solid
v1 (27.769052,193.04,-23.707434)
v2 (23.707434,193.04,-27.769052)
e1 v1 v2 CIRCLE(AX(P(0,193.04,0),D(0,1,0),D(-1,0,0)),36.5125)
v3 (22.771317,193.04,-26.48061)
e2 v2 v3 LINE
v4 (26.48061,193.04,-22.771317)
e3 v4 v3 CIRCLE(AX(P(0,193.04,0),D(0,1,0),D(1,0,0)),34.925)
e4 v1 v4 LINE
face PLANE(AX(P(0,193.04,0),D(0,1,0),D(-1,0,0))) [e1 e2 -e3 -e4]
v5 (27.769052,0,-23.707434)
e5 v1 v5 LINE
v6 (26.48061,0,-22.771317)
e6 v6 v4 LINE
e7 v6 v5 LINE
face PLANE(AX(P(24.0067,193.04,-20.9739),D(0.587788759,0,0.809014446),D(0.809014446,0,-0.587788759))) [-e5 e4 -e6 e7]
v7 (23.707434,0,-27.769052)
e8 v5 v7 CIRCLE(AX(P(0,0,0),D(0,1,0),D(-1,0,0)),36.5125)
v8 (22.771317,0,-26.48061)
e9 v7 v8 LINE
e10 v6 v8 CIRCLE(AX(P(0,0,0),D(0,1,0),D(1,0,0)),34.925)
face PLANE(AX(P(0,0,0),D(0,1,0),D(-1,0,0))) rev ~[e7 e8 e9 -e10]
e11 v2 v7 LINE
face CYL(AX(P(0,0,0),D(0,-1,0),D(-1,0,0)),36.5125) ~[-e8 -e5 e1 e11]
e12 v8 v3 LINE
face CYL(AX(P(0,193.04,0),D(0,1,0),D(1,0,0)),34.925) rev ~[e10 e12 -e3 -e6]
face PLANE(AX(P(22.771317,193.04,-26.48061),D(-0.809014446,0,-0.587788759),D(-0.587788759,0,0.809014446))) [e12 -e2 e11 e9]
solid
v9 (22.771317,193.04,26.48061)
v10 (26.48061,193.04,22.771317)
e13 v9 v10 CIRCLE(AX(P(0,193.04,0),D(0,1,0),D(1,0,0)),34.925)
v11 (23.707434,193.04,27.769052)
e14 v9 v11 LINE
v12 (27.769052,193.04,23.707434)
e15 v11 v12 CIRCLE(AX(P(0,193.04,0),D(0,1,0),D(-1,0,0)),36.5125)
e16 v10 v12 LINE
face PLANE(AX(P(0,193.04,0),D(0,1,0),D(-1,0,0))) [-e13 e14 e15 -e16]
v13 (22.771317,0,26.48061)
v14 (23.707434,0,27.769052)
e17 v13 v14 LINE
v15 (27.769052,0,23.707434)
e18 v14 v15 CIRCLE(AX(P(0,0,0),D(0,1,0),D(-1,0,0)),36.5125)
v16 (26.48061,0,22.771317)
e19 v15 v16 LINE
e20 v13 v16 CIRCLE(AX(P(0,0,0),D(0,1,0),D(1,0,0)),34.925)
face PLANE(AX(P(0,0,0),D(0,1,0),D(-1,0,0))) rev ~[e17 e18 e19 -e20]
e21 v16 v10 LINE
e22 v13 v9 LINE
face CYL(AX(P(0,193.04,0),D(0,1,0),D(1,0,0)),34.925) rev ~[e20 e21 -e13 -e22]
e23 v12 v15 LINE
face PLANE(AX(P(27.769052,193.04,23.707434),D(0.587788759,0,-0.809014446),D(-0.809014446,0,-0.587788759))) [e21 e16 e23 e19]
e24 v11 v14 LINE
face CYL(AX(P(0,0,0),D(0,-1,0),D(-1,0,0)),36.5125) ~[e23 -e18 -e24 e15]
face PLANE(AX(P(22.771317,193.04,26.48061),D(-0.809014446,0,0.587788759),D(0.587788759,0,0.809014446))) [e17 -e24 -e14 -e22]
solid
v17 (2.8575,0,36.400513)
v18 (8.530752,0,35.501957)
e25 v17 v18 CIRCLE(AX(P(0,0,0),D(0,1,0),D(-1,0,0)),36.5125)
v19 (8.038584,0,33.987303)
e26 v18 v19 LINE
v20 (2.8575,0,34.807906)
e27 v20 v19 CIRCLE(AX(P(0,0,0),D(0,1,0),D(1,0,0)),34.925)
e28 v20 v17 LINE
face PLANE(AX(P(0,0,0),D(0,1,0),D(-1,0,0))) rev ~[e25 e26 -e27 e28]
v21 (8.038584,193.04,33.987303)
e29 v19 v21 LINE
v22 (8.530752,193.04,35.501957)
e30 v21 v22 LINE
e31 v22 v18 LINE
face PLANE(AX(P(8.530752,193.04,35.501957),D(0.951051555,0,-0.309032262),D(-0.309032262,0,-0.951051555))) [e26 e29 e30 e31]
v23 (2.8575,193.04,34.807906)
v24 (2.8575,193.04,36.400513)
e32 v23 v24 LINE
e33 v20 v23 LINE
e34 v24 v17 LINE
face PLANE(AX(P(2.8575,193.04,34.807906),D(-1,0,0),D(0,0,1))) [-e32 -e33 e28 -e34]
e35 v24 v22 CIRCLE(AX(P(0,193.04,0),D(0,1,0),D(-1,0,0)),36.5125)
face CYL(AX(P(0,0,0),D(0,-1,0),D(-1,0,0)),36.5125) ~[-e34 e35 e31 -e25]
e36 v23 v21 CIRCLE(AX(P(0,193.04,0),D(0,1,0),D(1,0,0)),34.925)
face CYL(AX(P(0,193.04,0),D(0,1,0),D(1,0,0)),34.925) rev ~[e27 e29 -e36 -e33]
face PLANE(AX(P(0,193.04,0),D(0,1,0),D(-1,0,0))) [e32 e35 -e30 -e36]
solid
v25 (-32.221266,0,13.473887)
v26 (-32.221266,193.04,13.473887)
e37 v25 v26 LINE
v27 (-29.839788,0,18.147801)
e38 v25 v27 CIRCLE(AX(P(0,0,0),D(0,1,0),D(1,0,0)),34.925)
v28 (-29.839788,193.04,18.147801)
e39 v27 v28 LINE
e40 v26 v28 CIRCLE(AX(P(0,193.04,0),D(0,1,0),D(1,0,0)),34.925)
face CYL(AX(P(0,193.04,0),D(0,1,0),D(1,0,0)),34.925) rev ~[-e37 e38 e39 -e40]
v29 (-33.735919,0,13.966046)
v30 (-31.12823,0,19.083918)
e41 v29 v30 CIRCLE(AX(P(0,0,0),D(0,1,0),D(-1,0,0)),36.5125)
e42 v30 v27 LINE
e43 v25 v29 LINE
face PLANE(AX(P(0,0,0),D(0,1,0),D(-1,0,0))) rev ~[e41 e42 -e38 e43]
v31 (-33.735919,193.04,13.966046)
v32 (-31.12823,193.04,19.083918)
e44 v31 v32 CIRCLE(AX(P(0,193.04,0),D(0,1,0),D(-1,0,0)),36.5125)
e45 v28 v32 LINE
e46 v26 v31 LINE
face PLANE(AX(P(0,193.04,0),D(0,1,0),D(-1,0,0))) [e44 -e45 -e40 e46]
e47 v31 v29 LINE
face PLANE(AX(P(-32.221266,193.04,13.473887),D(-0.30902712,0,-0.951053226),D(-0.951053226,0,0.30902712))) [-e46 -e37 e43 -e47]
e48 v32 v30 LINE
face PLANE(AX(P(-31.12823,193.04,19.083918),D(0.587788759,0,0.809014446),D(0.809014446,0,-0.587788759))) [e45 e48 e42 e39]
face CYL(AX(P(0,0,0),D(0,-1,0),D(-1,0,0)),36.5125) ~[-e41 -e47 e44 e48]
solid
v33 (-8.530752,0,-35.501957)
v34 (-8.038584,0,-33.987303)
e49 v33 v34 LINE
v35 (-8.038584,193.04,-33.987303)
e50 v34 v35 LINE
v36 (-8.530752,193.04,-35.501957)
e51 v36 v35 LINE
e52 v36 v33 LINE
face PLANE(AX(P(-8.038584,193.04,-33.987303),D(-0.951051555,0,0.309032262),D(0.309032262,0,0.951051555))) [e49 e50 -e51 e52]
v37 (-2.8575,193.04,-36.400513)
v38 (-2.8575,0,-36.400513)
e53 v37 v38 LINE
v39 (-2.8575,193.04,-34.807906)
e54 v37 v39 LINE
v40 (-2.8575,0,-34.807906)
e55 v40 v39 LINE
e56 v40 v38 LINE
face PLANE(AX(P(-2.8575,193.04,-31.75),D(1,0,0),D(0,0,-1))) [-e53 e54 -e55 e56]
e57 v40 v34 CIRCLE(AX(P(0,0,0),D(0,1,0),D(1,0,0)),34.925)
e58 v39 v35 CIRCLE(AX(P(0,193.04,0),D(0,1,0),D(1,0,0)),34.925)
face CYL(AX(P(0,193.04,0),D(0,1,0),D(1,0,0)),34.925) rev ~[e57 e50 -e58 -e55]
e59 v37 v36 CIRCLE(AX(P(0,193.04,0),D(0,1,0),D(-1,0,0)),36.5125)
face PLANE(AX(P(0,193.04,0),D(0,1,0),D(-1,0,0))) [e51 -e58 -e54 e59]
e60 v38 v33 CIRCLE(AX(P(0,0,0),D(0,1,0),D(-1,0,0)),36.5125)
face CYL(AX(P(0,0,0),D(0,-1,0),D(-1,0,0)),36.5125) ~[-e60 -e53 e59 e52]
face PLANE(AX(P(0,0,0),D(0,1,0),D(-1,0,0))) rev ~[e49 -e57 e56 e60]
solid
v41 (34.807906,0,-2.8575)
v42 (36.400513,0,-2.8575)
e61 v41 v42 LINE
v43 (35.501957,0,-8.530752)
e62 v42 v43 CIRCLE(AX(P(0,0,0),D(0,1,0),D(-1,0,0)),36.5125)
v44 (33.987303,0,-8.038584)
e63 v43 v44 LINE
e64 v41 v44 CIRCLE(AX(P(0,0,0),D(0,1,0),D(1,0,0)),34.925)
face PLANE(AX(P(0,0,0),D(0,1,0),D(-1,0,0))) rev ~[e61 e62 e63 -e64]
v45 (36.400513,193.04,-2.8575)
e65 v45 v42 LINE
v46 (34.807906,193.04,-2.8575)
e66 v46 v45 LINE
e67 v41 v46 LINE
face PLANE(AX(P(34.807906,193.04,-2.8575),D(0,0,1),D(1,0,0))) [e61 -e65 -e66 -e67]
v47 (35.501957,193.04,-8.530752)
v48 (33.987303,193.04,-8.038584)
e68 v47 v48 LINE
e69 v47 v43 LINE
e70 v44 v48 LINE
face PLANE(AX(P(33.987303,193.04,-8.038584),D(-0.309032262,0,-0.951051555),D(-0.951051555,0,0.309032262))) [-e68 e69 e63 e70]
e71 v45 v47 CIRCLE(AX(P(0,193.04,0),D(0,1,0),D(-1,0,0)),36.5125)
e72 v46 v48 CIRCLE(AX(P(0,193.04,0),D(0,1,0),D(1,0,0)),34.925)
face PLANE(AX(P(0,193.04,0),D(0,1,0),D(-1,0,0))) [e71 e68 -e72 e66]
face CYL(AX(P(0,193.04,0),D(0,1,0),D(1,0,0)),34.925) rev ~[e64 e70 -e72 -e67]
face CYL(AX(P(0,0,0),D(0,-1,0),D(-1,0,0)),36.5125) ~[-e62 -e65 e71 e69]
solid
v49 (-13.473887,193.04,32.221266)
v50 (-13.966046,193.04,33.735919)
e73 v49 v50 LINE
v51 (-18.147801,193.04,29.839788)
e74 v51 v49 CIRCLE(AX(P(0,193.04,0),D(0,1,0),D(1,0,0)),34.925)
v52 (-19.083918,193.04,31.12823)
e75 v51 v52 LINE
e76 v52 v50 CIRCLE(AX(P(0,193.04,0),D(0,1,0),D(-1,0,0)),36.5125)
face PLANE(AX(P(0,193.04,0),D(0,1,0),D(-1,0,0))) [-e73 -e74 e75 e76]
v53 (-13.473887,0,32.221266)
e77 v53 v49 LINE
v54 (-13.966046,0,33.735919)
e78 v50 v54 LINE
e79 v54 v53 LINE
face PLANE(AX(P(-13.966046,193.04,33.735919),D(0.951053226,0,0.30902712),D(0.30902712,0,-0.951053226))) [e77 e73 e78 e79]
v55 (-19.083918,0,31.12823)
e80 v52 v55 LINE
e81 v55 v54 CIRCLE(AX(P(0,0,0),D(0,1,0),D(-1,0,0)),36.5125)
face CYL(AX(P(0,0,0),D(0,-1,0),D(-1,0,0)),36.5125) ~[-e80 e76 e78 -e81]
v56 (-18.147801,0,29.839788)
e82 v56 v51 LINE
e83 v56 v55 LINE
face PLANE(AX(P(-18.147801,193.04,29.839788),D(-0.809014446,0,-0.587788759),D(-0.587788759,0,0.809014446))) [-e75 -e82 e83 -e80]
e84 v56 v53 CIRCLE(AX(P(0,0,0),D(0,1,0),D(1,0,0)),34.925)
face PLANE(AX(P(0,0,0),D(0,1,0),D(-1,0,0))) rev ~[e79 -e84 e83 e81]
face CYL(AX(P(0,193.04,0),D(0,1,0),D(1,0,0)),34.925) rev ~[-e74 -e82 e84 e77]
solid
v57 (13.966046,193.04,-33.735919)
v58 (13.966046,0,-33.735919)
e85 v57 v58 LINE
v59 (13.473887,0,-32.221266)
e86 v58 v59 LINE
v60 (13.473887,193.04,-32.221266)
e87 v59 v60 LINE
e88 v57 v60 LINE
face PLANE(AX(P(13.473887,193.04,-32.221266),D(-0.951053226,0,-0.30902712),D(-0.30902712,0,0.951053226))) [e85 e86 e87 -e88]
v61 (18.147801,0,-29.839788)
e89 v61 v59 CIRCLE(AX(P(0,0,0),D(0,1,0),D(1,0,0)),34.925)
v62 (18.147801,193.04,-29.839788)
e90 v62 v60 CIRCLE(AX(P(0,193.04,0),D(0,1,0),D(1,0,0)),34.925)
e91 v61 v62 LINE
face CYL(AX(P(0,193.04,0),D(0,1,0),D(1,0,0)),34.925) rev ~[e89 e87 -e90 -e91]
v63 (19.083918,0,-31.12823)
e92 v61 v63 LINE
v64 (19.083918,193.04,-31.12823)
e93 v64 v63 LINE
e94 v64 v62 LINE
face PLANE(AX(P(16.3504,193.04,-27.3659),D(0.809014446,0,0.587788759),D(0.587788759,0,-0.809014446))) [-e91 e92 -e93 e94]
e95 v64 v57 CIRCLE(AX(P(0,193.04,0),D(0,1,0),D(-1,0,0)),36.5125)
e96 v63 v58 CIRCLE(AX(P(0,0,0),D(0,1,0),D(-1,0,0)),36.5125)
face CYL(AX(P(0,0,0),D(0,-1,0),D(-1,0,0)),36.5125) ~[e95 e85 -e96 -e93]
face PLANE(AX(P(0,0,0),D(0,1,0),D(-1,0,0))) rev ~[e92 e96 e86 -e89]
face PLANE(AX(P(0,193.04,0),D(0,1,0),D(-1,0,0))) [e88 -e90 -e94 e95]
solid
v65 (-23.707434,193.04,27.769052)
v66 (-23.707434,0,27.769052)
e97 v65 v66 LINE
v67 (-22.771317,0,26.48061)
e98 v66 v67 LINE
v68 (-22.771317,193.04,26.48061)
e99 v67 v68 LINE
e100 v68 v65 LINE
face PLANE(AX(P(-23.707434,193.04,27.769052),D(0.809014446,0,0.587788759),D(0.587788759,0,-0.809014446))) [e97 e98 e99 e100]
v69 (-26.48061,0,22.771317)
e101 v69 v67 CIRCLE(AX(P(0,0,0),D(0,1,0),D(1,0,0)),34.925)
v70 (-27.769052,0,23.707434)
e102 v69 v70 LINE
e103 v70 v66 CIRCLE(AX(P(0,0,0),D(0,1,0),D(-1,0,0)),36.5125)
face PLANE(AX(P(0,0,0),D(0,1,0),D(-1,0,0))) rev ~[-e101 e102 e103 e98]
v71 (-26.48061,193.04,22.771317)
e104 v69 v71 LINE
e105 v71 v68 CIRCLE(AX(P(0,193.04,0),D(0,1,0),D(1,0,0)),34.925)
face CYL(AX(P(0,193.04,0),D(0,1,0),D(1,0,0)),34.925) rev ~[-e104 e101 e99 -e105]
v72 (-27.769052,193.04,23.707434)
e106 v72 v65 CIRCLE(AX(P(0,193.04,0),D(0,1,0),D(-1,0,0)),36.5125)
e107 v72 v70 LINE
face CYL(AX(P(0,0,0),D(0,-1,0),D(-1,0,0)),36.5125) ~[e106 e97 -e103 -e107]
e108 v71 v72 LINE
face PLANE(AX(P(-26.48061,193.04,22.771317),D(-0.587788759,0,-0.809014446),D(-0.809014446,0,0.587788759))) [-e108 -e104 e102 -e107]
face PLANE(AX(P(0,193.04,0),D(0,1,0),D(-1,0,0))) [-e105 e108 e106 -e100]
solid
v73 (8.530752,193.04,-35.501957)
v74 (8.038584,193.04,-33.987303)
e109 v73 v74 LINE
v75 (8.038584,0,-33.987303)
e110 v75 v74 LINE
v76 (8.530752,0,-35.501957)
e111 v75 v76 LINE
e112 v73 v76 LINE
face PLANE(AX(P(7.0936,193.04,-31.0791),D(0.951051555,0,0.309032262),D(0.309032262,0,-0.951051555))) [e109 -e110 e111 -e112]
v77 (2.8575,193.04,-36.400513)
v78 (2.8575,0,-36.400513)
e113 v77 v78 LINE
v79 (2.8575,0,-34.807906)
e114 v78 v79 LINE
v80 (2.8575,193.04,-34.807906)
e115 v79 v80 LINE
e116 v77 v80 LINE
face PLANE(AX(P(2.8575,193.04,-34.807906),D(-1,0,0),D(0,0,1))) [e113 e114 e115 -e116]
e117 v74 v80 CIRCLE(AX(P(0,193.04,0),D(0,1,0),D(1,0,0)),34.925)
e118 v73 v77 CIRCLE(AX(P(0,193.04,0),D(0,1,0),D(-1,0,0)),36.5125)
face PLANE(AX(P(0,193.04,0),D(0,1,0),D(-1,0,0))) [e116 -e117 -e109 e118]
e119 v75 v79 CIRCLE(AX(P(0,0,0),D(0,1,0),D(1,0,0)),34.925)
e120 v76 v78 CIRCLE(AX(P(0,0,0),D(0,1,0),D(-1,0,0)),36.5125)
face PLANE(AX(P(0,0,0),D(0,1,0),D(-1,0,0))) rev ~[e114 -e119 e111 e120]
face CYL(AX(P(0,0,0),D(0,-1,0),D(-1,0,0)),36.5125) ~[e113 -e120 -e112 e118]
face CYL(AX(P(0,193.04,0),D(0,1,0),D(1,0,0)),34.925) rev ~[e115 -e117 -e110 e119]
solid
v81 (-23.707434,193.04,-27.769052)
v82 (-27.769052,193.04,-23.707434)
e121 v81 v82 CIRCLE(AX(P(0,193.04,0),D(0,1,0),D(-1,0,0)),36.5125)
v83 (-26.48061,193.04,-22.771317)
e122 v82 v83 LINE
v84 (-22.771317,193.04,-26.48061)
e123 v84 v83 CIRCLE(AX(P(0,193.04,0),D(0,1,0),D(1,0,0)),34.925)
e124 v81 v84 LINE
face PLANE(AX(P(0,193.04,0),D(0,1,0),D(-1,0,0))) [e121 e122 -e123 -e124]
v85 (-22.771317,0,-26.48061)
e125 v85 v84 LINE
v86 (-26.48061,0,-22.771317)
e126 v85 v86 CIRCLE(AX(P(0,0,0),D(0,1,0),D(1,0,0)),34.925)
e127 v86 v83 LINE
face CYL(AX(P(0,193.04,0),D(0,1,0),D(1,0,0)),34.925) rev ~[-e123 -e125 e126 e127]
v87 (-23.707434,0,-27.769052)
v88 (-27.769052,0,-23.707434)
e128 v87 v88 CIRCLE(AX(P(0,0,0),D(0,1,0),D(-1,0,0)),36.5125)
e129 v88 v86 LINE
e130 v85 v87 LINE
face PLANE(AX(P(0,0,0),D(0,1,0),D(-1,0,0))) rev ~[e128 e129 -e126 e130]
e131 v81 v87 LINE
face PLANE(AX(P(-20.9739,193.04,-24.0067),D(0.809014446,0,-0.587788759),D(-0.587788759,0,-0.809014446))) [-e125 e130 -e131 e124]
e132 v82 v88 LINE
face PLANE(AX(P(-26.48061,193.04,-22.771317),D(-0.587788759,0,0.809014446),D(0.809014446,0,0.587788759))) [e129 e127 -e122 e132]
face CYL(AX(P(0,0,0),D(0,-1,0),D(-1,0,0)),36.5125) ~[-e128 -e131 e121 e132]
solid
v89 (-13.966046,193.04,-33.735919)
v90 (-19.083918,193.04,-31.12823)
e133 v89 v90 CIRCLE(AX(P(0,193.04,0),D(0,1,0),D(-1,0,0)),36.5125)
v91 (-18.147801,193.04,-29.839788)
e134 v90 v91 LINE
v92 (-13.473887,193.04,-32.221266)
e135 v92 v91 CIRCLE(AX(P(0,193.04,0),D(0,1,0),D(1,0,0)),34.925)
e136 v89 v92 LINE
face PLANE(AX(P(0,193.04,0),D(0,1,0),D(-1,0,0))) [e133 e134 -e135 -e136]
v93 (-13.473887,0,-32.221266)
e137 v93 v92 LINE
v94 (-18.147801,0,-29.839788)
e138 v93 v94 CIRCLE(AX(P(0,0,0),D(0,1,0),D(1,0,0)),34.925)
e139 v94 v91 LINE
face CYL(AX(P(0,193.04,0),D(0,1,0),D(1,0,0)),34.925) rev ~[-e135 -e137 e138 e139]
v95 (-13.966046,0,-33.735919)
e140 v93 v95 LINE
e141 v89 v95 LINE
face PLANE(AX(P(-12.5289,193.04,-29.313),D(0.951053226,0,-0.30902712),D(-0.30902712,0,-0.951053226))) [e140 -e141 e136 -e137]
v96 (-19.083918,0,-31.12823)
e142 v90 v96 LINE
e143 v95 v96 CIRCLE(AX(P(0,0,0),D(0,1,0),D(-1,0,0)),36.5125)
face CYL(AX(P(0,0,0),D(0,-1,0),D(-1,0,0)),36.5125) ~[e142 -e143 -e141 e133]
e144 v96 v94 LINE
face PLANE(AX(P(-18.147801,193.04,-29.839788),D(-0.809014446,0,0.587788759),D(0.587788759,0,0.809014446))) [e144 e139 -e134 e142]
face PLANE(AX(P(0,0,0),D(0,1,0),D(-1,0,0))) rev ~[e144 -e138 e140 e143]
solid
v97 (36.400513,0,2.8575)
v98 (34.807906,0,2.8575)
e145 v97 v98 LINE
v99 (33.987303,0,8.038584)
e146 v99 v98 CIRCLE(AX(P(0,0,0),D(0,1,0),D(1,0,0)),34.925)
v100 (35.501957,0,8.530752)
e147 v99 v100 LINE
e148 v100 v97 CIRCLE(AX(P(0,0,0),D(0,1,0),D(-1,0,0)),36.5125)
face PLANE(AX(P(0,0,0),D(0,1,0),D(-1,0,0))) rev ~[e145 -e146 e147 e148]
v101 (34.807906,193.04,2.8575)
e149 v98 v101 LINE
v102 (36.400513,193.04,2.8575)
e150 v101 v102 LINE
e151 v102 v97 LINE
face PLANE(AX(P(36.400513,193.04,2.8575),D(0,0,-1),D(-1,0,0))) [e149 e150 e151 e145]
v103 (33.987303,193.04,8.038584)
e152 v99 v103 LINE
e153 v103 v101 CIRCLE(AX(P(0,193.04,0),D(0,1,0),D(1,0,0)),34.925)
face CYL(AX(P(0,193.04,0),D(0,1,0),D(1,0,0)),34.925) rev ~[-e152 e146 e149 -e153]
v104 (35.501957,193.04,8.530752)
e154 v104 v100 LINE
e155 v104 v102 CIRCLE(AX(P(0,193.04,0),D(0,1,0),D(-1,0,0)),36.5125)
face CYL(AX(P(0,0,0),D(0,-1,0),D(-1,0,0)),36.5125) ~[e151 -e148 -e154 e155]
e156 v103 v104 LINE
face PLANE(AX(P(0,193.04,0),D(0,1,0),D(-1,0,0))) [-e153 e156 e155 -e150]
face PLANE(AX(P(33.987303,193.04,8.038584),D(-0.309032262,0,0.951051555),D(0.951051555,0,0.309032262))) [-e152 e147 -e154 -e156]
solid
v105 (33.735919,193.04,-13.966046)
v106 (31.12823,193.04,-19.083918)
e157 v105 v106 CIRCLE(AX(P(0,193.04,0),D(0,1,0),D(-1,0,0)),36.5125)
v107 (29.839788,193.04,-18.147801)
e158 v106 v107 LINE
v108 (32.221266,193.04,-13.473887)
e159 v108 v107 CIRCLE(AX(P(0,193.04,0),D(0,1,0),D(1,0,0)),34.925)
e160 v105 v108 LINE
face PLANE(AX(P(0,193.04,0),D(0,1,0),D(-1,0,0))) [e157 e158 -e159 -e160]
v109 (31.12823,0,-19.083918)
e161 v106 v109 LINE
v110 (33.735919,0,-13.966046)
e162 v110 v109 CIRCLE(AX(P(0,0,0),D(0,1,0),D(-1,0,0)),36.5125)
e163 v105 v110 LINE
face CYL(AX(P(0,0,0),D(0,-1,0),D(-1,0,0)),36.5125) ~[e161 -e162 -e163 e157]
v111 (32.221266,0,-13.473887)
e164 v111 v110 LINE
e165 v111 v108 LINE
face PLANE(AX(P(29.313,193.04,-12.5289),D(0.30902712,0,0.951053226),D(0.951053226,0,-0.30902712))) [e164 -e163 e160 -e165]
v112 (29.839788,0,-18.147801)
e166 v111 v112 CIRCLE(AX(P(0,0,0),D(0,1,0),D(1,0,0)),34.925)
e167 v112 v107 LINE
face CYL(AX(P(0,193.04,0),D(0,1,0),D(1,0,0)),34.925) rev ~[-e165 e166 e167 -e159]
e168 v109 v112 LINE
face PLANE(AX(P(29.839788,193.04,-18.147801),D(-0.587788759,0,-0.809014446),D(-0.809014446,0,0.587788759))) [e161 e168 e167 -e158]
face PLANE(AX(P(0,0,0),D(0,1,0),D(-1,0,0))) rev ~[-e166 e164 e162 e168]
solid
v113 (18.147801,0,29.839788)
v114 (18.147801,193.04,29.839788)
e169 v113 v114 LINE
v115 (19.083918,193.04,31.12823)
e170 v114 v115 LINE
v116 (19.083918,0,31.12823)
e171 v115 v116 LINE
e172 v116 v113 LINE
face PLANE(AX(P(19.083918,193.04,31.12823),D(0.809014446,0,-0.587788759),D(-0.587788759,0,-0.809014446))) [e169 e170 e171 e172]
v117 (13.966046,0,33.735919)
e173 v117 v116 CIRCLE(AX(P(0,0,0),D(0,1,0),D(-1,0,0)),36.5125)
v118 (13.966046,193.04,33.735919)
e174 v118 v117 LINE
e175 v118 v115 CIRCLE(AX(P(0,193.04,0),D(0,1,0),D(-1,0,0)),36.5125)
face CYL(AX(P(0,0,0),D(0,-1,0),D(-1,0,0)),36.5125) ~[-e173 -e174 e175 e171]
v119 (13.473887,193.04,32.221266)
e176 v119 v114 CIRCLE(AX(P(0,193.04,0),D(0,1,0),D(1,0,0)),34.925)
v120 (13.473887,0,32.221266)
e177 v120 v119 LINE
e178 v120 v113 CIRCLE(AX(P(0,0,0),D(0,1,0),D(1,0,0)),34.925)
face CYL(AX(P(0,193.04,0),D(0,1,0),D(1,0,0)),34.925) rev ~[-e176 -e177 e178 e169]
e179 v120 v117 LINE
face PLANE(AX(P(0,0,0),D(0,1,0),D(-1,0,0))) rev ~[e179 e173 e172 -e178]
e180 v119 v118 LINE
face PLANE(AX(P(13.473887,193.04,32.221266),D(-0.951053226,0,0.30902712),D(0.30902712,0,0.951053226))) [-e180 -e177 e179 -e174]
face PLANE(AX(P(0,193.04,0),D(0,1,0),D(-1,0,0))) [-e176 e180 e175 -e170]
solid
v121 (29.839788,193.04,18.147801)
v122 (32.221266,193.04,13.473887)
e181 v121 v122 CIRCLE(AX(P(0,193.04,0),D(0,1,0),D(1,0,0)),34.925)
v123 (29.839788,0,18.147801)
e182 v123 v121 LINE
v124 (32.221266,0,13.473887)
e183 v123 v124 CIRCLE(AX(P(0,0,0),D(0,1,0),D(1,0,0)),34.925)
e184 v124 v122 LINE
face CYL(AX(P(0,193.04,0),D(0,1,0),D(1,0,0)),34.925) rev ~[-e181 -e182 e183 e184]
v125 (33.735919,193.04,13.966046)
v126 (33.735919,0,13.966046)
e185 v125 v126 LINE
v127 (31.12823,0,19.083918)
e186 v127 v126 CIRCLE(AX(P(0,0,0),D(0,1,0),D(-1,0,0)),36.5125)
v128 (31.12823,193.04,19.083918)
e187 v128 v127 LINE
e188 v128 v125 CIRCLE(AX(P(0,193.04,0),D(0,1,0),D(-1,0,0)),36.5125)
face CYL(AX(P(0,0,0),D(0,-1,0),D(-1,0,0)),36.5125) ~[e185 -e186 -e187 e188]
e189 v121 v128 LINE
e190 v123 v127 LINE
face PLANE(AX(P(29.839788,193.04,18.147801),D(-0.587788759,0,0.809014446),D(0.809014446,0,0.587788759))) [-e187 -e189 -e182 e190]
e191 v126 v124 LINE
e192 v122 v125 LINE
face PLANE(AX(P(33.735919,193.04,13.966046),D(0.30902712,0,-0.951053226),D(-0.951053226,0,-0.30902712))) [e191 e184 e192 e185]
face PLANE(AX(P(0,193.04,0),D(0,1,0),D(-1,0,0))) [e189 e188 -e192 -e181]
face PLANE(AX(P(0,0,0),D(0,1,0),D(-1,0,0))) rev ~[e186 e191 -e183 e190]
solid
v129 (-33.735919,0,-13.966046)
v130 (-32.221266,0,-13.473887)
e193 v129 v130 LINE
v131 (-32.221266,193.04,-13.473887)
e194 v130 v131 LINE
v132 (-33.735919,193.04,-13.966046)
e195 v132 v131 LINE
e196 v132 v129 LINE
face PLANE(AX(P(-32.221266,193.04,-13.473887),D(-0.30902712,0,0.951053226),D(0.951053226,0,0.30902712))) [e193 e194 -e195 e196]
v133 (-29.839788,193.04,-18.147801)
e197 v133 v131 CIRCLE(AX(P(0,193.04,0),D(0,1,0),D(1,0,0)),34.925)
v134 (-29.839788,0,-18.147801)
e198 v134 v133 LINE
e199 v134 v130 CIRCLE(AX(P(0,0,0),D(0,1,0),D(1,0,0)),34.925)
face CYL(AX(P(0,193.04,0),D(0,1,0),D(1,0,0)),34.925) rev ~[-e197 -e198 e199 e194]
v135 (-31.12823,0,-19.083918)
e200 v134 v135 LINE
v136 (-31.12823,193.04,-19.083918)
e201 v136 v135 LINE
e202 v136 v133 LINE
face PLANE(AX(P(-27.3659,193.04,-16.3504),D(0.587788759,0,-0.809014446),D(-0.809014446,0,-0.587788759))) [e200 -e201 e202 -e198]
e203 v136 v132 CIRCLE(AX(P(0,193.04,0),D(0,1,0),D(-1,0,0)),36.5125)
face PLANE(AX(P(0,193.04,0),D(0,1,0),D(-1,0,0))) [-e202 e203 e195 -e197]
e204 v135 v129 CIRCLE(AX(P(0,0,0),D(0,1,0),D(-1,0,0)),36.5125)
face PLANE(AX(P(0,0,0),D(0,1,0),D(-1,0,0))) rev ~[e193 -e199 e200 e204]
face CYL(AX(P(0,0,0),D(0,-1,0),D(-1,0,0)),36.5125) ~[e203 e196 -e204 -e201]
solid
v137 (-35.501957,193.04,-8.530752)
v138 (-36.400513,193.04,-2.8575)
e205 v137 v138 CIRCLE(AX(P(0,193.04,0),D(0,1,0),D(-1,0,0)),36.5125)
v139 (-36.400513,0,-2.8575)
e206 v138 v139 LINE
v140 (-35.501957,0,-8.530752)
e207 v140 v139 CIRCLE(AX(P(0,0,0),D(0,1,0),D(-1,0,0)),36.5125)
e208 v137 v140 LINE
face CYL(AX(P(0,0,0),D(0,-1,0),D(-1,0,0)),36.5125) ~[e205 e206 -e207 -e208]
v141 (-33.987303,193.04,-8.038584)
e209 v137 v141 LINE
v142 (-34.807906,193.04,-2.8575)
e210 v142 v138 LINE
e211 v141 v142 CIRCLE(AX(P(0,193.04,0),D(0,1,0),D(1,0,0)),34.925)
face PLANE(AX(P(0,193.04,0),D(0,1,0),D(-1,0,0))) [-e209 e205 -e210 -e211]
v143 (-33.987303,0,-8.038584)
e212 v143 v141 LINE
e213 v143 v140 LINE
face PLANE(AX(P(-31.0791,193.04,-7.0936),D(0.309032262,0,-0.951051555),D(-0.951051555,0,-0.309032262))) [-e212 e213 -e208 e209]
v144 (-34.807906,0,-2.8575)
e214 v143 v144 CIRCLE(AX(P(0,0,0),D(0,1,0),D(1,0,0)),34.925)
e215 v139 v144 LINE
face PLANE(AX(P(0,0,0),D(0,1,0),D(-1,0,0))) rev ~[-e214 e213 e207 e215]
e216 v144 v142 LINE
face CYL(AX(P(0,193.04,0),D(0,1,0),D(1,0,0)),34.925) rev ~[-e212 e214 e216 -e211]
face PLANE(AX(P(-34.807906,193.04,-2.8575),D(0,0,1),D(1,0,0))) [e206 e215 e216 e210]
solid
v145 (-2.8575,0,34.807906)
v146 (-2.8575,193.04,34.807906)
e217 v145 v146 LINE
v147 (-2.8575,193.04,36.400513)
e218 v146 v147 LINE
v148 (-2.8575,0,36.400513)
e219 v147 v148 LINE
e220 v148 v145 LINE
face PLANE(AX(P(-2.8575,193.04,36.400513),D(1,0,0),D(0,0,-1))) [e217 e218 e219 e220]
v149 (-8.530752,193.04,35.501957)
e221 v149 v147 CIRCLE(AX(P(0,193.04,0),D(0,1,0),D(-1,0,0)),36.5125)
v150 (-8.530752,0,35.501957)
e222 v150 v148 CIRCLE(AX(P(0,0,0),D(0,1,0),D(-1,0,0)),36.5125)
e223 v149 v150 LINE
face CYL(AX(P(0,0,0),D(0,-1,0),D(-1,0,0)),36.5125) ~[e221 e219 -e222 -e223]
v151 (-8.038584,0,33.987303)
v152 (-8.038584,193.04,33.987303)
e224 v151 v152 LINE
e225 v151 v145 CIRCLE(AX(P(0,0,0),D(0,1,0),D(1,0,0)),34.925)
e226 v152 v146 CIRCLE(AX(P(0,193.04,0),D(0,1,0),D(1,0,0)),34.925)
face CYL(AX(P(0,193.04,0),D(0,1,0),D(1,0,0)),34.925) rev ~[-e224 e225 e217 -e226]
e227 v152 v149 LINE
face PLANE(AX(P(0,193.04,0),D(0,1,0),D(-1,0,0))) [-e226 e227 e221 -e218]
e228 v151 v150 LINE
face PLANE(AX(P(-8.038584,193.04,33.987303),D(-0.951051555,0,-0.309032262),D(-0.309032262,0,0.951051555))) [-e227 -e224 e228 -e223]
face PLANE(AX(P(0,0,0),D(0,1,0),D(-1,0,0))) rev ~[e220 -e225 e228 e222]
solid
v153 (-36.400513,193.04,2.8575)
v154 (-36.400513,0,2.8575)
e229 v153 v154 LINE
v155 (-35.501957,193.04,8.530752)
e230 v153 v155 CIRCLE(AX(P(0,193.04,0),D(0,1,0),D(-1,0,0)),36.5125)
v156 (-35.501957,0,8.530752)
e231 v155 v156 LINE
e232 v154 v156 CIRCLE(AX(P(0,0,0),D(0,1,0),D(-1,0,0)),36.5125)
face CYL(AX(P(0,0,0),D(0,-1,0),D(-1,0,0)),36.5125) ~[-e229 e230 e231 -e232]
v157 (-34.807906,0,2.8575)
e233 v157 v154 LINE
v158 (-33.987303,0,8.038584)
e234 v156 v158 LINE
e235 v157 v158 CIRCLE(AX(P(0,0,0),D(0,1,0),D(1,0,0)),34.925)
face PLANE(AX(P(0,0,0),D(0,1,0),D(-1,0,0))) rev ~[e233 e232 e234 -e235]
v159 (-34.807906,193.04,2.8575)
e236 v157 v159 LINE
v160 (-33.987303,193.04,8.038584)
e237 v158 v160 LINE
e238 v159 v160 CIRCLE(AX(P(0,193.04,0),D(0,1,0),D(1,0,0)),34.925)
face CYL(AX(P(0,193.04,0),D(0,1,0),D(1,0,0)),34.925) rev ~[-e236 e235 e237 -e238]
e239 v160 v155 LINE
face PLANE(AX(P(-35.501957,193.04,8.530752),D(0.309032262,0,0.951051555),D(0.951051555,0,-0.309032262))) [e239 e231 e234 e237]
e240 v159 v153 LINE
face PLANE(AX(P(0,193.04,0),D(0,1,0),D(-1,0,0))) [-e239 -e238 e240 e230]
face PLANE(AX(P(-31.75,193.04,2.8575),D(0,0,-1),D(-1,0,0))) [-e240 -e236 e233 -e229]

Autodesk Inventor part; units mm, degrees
ref_plane "YZ Plane" through (0, 0, 0) normal (1, 0, 0) x (0, 1, 0)
ref_plane "XZ Plane" through (0, 0, 0) normal (0, 1, 0) x (-1, 0, 0)
ref_plane "XY Plane" through (0, 0, 0) normal (0, 0, 1) x (1, 0, 0)
sketch "Sketch1" plane through (0, 0, 0) normal (0, 1, 0) x (-1, 0, 0)
  circle A0 centre (0, 0) radius 36.5125
  dimension "d0" = 73.025
extrude "Extrusion1" add sketch "Sketch1" along normal blind 193.04
sketch "Sketch2" plane through (0, 193.04, 0) normal (0, 1, 0) x (1, 0, 0)
  circle A0 centre (0, 0) radius 34.925
  dimension "d3" = 69.85
extrude "Extrusion2" cut sketch "Sketch2" against normal through all
sketch "Sketch3" plane through (0, 193.04, 0) normal (0, 1, 0) x (1, 0, 0)
  line L0 (-31.75, -2.8575) -> (-37.465, -2.8575)
  line L1 (-37.465, -2.8575) -> (-37.465, 2.8575)
  line L2 (-37.465, 2.8575) -> (-31.75, 2.8575)
  line L3 (-31.75, 2.8575) -> (-31.75, -2.8575)
  circle A0 centre (0, 0) radius 36.5125 projected
  line L4 (-29.313, -12.5289) -> (-34.7483, -14.295)
  line L5 (-34.7483, -14.295) -> (-36.5143, -8.8597)
  line L6 (-36.5143, -8.8597) -> (-31.0791, -7.0936)
  line L7 (-31.0791, -7.0936) -> (-29.313, -12.5289)
  line L8 (-24.0067, -20.9739) -> (-28.6302, -24.3331)
  line L9 (-28.6302, -24.3331) -> (-31.9894, -19.7096)
  line L10 (-31.9894, -19.7096) -> (-27.3659, -16.3504)
  line L11 (-27.3659, -16.3504) -> (-24.0067, -20.9739)
  line L12 (-16.3504, -27.3659) -> (-19.7096, -31.9894)
  line L13 (-19.7096, -31.9894) -> (-24.3331, -28.6302)
  line L14 (-24.3331, -28.6302) -> (-20.9739, -24.0067)
  line L15 (-20.9739, -24.0067) -> (-16.3504, -27.3659)
  line L16 (-7.0936, -31.0791) -> (-8.8597, -36.5143)
  line L17 (-8.8597, -36.5143) -> (-14.295, -34.7483)
  line L18 (-14.295, -34.7483) -> (-12.5289, -29.313)
  line L19 (-12.5289, -29.313) -> (-7.0936, -31.0791)
  line L20 (2.8575, -31.75) -> (2.8575, -37.465)
  line L21 (2.8575, -37.465) -> (-2.8575, -37.465)
  line L22 (-2.8575, -37.465) -> (-2.8575, -31.75)
  line L23 (-2.8575, -31.75) -> (2.8575, -31.75)
  line L24 (12.5289, -29.313) -> (14.295, -34.7483)
  line L25 (14.295, -34.7483) -> (8.8597, -36.5143)
  line L26 (8.8597, -36.5143) -> (7.0936, -31.0791)
  line L27 (7.0936, -31.0791) -> (12.5289, -29.313)
  line L28 (20.9739, -24.0067) -> (24.3331, -28.6302)
  line L29 (24.3331, -28.6302) -> (19.7096, -31.9894)
  line L30 (19.7096, -31.9894) -> (16.3504, -27.3659)
  line L31 (16.3504, -27.3659) -> (20.9739, -24.0067)
  line L32 (27.3659, -16.3504) -> (31.9894, -19.7096)
  line L33 (31.9894, -19.7096) -> (28.6302, -24.3331)
  line L34 (28.6302, -24.3331) -> (24.0067, -20.9739)
  line L35 (24.0067, -20.9739) -> (27.3659, -16.3504)
  line L36 (31.0791, -7.0936) -> (36.5143, -8.8597)
  line L37 (36.5143, -8.8597) -> (34.7483, -14.295)
  line L38 (34.7483, -14.295) -> (29.313, -12.5289)
  line L39 (29.313, -12.5289) -> (31.0791, -7.0936)
  line L40 (31.75, 2.8575) -> (37.465, 2.8575)
  line L41 (37.465, 2.8575) -> (37.465, -2.8575)
  line L42 (37.465, -2.8575) -> (31.75, -2.8575)
  line L43 (31.75, -2.8575) -> (31.75, 2.8575)
  line L44 (29.313, 12.5289) -> (34.7483, 14.295)
  line L45 (34.7483, 14.295) -> (36.5143, 8.8597)
  line L46 (36.5143, 8.8597) -> (31.0791, 7.0936)
  line L47 (31.0791, 7.0936) -> (29.313, 12.5289)
  line L48 (24.0067, 20.9739) -> (28.6302, 24.3331)
  line L49 (28.6302, 24.3331) -> (31.9894, 19.7096)
  line L50 (31.9894, 19.7096) -> (27.3659, 16.3504)
  line L51 (27.3659, 16.3504) -> (24.0067, 20.9739)
  line L52 (16.3504, 27.3659) -> (19.7096, 31.9894)
  line L53 (19.7096, 31.9894) -> (24.3331, 28.6302)
  line L54 (24.3331, 28.6302) -> (20.9739, 24.0067)
  line L55 (20.9739, 24.0067) -> (16.3504, 27.3659)
  line L56 (7.0936, 31.0791) -> (8.8597, 36.5143)
  line L57 (8.8597, 36.5143) -> (14.295, 34.7483)
  line L58 (14.295, 34.7483) -> (12.5289, 29.313)
  line L59 (12.5289, 29.313) -> (7.0936, 31.0791)
  line L60 (-2.8575, 31.75) -> (-2.8575, 37.465)
  line L61 (-2.8575, 37.465) -> (2.8575, 37.465)
  line L62 (2.8575, 37.465) -> (2.8575, 31.75)
  line L63 (2.8575, 31.75) -> (-2.8575, 31.75)
  line L64 (-12.5289, 29.313) -> (-14.295, 34.7483)
  line L65 (-14.295, 34.7483) -> (-8.8597, 36.5143)
  line L66 (-8.8597, 36.5143) -> (-7.0936, 31.0791)
  line L67 (-7.0936, 31.0791) -> (-12.5289, 29.313)
  line L68 (-20.9739, 24.0067) -> (-24.3331, 28.6302)
  line L69 (-24.3331, 28.6302) -> (-19.7096, 31.9894)
  line L70 (-19.7096, 31.9894) -> (-16.3504, 27.3659)
  line L71 (-16.3504, 27.3659) -> (-20.9739, 24.0067)
  line L72 (-27.3659, 16.3504) -> (-31.9894, 19.7096)
  line L73 (-31.9894, 19.7096) -> (-28.6302, 24.3331)
  line L74 (-28.6302, 24.3331) -> (-24.0067, 20.9739)
  line L75 (-24.0067, 20.9739) -> (-27.3659, 16.3504)
  line L76 (-31.0791, 7.0936) -> (-36.5143, 8.8597)
  line L77 (-36.5143, 8.8597) -> (-34.7483, 14.295)
  line L78 (-34.7483, 14.295) -> (-29.313, 12.5289)
  line L79 (-29.313, 12.5289) -> (-31.0791, 7.0936)
  circle A1 centre (0, 0) radius 34.925 projected
  point P0 (-36.5125, 0)
  point P1 (-34.7255, -11.283)
  point P2 (-29.5392, -21.4615)
  point P3 (-21.4615, -29.5392)
  point P4 (-11.283, -34.7255)
  point P5 (0, -36.5125)
  point P6 (11.283, -34.7255)
  point P7 (21.4615, -29.5392)
  point P8 (29.5392, -21.4615)
  point P9 (34.7255, -11.283)
  point P10 (36.5125, 0)
  point P11 (34.7255, 11.283)
  point P12 (29.5392, 21.4615)
  point P13 (21.4615, 29.5392)
  point P14 (11.283, 34.7255)
  point P15 (0, 36.5125)
  point P16 (-11.283, 34.7255)
  point P17 (-21.4615, 29.5392)
  point P18 (-29.5392, 21.4615)
  point P19 (-34.7255, 11.283)
  dimension "d6" = 5.715
  dimension "d7" = 5.715
  dimension "d8" = 2.8575
  dimension "d13" = 360
  dimension "d15" = 2.54
extrude "Extrusion3" cut sketch "Sketch3" against normal through all contours L0 A1 L2 L3 | L0 A0 L2 A1 | L0 L1 L2 A0 | A1 L4 A0 L6 | L6 L7 L4 A1 | A0 L4 L5 L6 | A1 L78 L79 L76 | L76 A0 L78 A1 | L76 L77 L78 A0 | A1 L8 A0 L10 | L10 L11 L8 A1 | A0 L8 L9 L10 | A1 L74 L75 L72 | L72 A0 L74 A1 | L72 L73 L74 A0 | A1 L12 A0 L14 | L14 L15 L12 A1 | A0 L12 L13 L14 | A1 L70 L71 L68 | L68 A0 L70 A1 | L68 L69 L70 A0 | A1 L16 A0 L18 | L18 L19 L16 A1 | A0 L16 L17 L18 | A1 L66 L67 L64 | L64 A0 L66 A1 | L64 L65 L66 A0 | A1 L20 A0 L22 | L22 L23 L20 A1 | A0 L20 L21 L22 | A1 L62 L63 L60 | L60 A0 L62 A1 | L60 L61 L62 A0 | A1 L24 A0 L26 | L26 L27 L24 A1 | A0 L24 L25 L26 | A1 L58 L59 L56 | L56 A0 L58 A1 | L56 L57 L58 A0 | A1 L28 A0 L30 | L30 L31 L28 A1 | A0 L28 L29 L30 | A1 L54 L55 L52 | L52 A0 L54 A1 | L52 L53 L54 A0 | A1 L32 A0 L34 | L34 L35 L32 A1 | A0 L32 L33 L34 | A1 L50 L51 L48 | L48 A0 L50 A1 | L48 L49 L50 A0 | A1 L36 A0 L38 | L38 L39 L36 A1 | A0 L36 L37 L38 | A1 L46 L47 L44 | L44 A0 L46 A1 | L44 L45 L46 A0 | A1 L40 A0 L42 | L42 L43 L40 A1 | A0 L40 L41 L42
properties part number "bandsbottomroller"
